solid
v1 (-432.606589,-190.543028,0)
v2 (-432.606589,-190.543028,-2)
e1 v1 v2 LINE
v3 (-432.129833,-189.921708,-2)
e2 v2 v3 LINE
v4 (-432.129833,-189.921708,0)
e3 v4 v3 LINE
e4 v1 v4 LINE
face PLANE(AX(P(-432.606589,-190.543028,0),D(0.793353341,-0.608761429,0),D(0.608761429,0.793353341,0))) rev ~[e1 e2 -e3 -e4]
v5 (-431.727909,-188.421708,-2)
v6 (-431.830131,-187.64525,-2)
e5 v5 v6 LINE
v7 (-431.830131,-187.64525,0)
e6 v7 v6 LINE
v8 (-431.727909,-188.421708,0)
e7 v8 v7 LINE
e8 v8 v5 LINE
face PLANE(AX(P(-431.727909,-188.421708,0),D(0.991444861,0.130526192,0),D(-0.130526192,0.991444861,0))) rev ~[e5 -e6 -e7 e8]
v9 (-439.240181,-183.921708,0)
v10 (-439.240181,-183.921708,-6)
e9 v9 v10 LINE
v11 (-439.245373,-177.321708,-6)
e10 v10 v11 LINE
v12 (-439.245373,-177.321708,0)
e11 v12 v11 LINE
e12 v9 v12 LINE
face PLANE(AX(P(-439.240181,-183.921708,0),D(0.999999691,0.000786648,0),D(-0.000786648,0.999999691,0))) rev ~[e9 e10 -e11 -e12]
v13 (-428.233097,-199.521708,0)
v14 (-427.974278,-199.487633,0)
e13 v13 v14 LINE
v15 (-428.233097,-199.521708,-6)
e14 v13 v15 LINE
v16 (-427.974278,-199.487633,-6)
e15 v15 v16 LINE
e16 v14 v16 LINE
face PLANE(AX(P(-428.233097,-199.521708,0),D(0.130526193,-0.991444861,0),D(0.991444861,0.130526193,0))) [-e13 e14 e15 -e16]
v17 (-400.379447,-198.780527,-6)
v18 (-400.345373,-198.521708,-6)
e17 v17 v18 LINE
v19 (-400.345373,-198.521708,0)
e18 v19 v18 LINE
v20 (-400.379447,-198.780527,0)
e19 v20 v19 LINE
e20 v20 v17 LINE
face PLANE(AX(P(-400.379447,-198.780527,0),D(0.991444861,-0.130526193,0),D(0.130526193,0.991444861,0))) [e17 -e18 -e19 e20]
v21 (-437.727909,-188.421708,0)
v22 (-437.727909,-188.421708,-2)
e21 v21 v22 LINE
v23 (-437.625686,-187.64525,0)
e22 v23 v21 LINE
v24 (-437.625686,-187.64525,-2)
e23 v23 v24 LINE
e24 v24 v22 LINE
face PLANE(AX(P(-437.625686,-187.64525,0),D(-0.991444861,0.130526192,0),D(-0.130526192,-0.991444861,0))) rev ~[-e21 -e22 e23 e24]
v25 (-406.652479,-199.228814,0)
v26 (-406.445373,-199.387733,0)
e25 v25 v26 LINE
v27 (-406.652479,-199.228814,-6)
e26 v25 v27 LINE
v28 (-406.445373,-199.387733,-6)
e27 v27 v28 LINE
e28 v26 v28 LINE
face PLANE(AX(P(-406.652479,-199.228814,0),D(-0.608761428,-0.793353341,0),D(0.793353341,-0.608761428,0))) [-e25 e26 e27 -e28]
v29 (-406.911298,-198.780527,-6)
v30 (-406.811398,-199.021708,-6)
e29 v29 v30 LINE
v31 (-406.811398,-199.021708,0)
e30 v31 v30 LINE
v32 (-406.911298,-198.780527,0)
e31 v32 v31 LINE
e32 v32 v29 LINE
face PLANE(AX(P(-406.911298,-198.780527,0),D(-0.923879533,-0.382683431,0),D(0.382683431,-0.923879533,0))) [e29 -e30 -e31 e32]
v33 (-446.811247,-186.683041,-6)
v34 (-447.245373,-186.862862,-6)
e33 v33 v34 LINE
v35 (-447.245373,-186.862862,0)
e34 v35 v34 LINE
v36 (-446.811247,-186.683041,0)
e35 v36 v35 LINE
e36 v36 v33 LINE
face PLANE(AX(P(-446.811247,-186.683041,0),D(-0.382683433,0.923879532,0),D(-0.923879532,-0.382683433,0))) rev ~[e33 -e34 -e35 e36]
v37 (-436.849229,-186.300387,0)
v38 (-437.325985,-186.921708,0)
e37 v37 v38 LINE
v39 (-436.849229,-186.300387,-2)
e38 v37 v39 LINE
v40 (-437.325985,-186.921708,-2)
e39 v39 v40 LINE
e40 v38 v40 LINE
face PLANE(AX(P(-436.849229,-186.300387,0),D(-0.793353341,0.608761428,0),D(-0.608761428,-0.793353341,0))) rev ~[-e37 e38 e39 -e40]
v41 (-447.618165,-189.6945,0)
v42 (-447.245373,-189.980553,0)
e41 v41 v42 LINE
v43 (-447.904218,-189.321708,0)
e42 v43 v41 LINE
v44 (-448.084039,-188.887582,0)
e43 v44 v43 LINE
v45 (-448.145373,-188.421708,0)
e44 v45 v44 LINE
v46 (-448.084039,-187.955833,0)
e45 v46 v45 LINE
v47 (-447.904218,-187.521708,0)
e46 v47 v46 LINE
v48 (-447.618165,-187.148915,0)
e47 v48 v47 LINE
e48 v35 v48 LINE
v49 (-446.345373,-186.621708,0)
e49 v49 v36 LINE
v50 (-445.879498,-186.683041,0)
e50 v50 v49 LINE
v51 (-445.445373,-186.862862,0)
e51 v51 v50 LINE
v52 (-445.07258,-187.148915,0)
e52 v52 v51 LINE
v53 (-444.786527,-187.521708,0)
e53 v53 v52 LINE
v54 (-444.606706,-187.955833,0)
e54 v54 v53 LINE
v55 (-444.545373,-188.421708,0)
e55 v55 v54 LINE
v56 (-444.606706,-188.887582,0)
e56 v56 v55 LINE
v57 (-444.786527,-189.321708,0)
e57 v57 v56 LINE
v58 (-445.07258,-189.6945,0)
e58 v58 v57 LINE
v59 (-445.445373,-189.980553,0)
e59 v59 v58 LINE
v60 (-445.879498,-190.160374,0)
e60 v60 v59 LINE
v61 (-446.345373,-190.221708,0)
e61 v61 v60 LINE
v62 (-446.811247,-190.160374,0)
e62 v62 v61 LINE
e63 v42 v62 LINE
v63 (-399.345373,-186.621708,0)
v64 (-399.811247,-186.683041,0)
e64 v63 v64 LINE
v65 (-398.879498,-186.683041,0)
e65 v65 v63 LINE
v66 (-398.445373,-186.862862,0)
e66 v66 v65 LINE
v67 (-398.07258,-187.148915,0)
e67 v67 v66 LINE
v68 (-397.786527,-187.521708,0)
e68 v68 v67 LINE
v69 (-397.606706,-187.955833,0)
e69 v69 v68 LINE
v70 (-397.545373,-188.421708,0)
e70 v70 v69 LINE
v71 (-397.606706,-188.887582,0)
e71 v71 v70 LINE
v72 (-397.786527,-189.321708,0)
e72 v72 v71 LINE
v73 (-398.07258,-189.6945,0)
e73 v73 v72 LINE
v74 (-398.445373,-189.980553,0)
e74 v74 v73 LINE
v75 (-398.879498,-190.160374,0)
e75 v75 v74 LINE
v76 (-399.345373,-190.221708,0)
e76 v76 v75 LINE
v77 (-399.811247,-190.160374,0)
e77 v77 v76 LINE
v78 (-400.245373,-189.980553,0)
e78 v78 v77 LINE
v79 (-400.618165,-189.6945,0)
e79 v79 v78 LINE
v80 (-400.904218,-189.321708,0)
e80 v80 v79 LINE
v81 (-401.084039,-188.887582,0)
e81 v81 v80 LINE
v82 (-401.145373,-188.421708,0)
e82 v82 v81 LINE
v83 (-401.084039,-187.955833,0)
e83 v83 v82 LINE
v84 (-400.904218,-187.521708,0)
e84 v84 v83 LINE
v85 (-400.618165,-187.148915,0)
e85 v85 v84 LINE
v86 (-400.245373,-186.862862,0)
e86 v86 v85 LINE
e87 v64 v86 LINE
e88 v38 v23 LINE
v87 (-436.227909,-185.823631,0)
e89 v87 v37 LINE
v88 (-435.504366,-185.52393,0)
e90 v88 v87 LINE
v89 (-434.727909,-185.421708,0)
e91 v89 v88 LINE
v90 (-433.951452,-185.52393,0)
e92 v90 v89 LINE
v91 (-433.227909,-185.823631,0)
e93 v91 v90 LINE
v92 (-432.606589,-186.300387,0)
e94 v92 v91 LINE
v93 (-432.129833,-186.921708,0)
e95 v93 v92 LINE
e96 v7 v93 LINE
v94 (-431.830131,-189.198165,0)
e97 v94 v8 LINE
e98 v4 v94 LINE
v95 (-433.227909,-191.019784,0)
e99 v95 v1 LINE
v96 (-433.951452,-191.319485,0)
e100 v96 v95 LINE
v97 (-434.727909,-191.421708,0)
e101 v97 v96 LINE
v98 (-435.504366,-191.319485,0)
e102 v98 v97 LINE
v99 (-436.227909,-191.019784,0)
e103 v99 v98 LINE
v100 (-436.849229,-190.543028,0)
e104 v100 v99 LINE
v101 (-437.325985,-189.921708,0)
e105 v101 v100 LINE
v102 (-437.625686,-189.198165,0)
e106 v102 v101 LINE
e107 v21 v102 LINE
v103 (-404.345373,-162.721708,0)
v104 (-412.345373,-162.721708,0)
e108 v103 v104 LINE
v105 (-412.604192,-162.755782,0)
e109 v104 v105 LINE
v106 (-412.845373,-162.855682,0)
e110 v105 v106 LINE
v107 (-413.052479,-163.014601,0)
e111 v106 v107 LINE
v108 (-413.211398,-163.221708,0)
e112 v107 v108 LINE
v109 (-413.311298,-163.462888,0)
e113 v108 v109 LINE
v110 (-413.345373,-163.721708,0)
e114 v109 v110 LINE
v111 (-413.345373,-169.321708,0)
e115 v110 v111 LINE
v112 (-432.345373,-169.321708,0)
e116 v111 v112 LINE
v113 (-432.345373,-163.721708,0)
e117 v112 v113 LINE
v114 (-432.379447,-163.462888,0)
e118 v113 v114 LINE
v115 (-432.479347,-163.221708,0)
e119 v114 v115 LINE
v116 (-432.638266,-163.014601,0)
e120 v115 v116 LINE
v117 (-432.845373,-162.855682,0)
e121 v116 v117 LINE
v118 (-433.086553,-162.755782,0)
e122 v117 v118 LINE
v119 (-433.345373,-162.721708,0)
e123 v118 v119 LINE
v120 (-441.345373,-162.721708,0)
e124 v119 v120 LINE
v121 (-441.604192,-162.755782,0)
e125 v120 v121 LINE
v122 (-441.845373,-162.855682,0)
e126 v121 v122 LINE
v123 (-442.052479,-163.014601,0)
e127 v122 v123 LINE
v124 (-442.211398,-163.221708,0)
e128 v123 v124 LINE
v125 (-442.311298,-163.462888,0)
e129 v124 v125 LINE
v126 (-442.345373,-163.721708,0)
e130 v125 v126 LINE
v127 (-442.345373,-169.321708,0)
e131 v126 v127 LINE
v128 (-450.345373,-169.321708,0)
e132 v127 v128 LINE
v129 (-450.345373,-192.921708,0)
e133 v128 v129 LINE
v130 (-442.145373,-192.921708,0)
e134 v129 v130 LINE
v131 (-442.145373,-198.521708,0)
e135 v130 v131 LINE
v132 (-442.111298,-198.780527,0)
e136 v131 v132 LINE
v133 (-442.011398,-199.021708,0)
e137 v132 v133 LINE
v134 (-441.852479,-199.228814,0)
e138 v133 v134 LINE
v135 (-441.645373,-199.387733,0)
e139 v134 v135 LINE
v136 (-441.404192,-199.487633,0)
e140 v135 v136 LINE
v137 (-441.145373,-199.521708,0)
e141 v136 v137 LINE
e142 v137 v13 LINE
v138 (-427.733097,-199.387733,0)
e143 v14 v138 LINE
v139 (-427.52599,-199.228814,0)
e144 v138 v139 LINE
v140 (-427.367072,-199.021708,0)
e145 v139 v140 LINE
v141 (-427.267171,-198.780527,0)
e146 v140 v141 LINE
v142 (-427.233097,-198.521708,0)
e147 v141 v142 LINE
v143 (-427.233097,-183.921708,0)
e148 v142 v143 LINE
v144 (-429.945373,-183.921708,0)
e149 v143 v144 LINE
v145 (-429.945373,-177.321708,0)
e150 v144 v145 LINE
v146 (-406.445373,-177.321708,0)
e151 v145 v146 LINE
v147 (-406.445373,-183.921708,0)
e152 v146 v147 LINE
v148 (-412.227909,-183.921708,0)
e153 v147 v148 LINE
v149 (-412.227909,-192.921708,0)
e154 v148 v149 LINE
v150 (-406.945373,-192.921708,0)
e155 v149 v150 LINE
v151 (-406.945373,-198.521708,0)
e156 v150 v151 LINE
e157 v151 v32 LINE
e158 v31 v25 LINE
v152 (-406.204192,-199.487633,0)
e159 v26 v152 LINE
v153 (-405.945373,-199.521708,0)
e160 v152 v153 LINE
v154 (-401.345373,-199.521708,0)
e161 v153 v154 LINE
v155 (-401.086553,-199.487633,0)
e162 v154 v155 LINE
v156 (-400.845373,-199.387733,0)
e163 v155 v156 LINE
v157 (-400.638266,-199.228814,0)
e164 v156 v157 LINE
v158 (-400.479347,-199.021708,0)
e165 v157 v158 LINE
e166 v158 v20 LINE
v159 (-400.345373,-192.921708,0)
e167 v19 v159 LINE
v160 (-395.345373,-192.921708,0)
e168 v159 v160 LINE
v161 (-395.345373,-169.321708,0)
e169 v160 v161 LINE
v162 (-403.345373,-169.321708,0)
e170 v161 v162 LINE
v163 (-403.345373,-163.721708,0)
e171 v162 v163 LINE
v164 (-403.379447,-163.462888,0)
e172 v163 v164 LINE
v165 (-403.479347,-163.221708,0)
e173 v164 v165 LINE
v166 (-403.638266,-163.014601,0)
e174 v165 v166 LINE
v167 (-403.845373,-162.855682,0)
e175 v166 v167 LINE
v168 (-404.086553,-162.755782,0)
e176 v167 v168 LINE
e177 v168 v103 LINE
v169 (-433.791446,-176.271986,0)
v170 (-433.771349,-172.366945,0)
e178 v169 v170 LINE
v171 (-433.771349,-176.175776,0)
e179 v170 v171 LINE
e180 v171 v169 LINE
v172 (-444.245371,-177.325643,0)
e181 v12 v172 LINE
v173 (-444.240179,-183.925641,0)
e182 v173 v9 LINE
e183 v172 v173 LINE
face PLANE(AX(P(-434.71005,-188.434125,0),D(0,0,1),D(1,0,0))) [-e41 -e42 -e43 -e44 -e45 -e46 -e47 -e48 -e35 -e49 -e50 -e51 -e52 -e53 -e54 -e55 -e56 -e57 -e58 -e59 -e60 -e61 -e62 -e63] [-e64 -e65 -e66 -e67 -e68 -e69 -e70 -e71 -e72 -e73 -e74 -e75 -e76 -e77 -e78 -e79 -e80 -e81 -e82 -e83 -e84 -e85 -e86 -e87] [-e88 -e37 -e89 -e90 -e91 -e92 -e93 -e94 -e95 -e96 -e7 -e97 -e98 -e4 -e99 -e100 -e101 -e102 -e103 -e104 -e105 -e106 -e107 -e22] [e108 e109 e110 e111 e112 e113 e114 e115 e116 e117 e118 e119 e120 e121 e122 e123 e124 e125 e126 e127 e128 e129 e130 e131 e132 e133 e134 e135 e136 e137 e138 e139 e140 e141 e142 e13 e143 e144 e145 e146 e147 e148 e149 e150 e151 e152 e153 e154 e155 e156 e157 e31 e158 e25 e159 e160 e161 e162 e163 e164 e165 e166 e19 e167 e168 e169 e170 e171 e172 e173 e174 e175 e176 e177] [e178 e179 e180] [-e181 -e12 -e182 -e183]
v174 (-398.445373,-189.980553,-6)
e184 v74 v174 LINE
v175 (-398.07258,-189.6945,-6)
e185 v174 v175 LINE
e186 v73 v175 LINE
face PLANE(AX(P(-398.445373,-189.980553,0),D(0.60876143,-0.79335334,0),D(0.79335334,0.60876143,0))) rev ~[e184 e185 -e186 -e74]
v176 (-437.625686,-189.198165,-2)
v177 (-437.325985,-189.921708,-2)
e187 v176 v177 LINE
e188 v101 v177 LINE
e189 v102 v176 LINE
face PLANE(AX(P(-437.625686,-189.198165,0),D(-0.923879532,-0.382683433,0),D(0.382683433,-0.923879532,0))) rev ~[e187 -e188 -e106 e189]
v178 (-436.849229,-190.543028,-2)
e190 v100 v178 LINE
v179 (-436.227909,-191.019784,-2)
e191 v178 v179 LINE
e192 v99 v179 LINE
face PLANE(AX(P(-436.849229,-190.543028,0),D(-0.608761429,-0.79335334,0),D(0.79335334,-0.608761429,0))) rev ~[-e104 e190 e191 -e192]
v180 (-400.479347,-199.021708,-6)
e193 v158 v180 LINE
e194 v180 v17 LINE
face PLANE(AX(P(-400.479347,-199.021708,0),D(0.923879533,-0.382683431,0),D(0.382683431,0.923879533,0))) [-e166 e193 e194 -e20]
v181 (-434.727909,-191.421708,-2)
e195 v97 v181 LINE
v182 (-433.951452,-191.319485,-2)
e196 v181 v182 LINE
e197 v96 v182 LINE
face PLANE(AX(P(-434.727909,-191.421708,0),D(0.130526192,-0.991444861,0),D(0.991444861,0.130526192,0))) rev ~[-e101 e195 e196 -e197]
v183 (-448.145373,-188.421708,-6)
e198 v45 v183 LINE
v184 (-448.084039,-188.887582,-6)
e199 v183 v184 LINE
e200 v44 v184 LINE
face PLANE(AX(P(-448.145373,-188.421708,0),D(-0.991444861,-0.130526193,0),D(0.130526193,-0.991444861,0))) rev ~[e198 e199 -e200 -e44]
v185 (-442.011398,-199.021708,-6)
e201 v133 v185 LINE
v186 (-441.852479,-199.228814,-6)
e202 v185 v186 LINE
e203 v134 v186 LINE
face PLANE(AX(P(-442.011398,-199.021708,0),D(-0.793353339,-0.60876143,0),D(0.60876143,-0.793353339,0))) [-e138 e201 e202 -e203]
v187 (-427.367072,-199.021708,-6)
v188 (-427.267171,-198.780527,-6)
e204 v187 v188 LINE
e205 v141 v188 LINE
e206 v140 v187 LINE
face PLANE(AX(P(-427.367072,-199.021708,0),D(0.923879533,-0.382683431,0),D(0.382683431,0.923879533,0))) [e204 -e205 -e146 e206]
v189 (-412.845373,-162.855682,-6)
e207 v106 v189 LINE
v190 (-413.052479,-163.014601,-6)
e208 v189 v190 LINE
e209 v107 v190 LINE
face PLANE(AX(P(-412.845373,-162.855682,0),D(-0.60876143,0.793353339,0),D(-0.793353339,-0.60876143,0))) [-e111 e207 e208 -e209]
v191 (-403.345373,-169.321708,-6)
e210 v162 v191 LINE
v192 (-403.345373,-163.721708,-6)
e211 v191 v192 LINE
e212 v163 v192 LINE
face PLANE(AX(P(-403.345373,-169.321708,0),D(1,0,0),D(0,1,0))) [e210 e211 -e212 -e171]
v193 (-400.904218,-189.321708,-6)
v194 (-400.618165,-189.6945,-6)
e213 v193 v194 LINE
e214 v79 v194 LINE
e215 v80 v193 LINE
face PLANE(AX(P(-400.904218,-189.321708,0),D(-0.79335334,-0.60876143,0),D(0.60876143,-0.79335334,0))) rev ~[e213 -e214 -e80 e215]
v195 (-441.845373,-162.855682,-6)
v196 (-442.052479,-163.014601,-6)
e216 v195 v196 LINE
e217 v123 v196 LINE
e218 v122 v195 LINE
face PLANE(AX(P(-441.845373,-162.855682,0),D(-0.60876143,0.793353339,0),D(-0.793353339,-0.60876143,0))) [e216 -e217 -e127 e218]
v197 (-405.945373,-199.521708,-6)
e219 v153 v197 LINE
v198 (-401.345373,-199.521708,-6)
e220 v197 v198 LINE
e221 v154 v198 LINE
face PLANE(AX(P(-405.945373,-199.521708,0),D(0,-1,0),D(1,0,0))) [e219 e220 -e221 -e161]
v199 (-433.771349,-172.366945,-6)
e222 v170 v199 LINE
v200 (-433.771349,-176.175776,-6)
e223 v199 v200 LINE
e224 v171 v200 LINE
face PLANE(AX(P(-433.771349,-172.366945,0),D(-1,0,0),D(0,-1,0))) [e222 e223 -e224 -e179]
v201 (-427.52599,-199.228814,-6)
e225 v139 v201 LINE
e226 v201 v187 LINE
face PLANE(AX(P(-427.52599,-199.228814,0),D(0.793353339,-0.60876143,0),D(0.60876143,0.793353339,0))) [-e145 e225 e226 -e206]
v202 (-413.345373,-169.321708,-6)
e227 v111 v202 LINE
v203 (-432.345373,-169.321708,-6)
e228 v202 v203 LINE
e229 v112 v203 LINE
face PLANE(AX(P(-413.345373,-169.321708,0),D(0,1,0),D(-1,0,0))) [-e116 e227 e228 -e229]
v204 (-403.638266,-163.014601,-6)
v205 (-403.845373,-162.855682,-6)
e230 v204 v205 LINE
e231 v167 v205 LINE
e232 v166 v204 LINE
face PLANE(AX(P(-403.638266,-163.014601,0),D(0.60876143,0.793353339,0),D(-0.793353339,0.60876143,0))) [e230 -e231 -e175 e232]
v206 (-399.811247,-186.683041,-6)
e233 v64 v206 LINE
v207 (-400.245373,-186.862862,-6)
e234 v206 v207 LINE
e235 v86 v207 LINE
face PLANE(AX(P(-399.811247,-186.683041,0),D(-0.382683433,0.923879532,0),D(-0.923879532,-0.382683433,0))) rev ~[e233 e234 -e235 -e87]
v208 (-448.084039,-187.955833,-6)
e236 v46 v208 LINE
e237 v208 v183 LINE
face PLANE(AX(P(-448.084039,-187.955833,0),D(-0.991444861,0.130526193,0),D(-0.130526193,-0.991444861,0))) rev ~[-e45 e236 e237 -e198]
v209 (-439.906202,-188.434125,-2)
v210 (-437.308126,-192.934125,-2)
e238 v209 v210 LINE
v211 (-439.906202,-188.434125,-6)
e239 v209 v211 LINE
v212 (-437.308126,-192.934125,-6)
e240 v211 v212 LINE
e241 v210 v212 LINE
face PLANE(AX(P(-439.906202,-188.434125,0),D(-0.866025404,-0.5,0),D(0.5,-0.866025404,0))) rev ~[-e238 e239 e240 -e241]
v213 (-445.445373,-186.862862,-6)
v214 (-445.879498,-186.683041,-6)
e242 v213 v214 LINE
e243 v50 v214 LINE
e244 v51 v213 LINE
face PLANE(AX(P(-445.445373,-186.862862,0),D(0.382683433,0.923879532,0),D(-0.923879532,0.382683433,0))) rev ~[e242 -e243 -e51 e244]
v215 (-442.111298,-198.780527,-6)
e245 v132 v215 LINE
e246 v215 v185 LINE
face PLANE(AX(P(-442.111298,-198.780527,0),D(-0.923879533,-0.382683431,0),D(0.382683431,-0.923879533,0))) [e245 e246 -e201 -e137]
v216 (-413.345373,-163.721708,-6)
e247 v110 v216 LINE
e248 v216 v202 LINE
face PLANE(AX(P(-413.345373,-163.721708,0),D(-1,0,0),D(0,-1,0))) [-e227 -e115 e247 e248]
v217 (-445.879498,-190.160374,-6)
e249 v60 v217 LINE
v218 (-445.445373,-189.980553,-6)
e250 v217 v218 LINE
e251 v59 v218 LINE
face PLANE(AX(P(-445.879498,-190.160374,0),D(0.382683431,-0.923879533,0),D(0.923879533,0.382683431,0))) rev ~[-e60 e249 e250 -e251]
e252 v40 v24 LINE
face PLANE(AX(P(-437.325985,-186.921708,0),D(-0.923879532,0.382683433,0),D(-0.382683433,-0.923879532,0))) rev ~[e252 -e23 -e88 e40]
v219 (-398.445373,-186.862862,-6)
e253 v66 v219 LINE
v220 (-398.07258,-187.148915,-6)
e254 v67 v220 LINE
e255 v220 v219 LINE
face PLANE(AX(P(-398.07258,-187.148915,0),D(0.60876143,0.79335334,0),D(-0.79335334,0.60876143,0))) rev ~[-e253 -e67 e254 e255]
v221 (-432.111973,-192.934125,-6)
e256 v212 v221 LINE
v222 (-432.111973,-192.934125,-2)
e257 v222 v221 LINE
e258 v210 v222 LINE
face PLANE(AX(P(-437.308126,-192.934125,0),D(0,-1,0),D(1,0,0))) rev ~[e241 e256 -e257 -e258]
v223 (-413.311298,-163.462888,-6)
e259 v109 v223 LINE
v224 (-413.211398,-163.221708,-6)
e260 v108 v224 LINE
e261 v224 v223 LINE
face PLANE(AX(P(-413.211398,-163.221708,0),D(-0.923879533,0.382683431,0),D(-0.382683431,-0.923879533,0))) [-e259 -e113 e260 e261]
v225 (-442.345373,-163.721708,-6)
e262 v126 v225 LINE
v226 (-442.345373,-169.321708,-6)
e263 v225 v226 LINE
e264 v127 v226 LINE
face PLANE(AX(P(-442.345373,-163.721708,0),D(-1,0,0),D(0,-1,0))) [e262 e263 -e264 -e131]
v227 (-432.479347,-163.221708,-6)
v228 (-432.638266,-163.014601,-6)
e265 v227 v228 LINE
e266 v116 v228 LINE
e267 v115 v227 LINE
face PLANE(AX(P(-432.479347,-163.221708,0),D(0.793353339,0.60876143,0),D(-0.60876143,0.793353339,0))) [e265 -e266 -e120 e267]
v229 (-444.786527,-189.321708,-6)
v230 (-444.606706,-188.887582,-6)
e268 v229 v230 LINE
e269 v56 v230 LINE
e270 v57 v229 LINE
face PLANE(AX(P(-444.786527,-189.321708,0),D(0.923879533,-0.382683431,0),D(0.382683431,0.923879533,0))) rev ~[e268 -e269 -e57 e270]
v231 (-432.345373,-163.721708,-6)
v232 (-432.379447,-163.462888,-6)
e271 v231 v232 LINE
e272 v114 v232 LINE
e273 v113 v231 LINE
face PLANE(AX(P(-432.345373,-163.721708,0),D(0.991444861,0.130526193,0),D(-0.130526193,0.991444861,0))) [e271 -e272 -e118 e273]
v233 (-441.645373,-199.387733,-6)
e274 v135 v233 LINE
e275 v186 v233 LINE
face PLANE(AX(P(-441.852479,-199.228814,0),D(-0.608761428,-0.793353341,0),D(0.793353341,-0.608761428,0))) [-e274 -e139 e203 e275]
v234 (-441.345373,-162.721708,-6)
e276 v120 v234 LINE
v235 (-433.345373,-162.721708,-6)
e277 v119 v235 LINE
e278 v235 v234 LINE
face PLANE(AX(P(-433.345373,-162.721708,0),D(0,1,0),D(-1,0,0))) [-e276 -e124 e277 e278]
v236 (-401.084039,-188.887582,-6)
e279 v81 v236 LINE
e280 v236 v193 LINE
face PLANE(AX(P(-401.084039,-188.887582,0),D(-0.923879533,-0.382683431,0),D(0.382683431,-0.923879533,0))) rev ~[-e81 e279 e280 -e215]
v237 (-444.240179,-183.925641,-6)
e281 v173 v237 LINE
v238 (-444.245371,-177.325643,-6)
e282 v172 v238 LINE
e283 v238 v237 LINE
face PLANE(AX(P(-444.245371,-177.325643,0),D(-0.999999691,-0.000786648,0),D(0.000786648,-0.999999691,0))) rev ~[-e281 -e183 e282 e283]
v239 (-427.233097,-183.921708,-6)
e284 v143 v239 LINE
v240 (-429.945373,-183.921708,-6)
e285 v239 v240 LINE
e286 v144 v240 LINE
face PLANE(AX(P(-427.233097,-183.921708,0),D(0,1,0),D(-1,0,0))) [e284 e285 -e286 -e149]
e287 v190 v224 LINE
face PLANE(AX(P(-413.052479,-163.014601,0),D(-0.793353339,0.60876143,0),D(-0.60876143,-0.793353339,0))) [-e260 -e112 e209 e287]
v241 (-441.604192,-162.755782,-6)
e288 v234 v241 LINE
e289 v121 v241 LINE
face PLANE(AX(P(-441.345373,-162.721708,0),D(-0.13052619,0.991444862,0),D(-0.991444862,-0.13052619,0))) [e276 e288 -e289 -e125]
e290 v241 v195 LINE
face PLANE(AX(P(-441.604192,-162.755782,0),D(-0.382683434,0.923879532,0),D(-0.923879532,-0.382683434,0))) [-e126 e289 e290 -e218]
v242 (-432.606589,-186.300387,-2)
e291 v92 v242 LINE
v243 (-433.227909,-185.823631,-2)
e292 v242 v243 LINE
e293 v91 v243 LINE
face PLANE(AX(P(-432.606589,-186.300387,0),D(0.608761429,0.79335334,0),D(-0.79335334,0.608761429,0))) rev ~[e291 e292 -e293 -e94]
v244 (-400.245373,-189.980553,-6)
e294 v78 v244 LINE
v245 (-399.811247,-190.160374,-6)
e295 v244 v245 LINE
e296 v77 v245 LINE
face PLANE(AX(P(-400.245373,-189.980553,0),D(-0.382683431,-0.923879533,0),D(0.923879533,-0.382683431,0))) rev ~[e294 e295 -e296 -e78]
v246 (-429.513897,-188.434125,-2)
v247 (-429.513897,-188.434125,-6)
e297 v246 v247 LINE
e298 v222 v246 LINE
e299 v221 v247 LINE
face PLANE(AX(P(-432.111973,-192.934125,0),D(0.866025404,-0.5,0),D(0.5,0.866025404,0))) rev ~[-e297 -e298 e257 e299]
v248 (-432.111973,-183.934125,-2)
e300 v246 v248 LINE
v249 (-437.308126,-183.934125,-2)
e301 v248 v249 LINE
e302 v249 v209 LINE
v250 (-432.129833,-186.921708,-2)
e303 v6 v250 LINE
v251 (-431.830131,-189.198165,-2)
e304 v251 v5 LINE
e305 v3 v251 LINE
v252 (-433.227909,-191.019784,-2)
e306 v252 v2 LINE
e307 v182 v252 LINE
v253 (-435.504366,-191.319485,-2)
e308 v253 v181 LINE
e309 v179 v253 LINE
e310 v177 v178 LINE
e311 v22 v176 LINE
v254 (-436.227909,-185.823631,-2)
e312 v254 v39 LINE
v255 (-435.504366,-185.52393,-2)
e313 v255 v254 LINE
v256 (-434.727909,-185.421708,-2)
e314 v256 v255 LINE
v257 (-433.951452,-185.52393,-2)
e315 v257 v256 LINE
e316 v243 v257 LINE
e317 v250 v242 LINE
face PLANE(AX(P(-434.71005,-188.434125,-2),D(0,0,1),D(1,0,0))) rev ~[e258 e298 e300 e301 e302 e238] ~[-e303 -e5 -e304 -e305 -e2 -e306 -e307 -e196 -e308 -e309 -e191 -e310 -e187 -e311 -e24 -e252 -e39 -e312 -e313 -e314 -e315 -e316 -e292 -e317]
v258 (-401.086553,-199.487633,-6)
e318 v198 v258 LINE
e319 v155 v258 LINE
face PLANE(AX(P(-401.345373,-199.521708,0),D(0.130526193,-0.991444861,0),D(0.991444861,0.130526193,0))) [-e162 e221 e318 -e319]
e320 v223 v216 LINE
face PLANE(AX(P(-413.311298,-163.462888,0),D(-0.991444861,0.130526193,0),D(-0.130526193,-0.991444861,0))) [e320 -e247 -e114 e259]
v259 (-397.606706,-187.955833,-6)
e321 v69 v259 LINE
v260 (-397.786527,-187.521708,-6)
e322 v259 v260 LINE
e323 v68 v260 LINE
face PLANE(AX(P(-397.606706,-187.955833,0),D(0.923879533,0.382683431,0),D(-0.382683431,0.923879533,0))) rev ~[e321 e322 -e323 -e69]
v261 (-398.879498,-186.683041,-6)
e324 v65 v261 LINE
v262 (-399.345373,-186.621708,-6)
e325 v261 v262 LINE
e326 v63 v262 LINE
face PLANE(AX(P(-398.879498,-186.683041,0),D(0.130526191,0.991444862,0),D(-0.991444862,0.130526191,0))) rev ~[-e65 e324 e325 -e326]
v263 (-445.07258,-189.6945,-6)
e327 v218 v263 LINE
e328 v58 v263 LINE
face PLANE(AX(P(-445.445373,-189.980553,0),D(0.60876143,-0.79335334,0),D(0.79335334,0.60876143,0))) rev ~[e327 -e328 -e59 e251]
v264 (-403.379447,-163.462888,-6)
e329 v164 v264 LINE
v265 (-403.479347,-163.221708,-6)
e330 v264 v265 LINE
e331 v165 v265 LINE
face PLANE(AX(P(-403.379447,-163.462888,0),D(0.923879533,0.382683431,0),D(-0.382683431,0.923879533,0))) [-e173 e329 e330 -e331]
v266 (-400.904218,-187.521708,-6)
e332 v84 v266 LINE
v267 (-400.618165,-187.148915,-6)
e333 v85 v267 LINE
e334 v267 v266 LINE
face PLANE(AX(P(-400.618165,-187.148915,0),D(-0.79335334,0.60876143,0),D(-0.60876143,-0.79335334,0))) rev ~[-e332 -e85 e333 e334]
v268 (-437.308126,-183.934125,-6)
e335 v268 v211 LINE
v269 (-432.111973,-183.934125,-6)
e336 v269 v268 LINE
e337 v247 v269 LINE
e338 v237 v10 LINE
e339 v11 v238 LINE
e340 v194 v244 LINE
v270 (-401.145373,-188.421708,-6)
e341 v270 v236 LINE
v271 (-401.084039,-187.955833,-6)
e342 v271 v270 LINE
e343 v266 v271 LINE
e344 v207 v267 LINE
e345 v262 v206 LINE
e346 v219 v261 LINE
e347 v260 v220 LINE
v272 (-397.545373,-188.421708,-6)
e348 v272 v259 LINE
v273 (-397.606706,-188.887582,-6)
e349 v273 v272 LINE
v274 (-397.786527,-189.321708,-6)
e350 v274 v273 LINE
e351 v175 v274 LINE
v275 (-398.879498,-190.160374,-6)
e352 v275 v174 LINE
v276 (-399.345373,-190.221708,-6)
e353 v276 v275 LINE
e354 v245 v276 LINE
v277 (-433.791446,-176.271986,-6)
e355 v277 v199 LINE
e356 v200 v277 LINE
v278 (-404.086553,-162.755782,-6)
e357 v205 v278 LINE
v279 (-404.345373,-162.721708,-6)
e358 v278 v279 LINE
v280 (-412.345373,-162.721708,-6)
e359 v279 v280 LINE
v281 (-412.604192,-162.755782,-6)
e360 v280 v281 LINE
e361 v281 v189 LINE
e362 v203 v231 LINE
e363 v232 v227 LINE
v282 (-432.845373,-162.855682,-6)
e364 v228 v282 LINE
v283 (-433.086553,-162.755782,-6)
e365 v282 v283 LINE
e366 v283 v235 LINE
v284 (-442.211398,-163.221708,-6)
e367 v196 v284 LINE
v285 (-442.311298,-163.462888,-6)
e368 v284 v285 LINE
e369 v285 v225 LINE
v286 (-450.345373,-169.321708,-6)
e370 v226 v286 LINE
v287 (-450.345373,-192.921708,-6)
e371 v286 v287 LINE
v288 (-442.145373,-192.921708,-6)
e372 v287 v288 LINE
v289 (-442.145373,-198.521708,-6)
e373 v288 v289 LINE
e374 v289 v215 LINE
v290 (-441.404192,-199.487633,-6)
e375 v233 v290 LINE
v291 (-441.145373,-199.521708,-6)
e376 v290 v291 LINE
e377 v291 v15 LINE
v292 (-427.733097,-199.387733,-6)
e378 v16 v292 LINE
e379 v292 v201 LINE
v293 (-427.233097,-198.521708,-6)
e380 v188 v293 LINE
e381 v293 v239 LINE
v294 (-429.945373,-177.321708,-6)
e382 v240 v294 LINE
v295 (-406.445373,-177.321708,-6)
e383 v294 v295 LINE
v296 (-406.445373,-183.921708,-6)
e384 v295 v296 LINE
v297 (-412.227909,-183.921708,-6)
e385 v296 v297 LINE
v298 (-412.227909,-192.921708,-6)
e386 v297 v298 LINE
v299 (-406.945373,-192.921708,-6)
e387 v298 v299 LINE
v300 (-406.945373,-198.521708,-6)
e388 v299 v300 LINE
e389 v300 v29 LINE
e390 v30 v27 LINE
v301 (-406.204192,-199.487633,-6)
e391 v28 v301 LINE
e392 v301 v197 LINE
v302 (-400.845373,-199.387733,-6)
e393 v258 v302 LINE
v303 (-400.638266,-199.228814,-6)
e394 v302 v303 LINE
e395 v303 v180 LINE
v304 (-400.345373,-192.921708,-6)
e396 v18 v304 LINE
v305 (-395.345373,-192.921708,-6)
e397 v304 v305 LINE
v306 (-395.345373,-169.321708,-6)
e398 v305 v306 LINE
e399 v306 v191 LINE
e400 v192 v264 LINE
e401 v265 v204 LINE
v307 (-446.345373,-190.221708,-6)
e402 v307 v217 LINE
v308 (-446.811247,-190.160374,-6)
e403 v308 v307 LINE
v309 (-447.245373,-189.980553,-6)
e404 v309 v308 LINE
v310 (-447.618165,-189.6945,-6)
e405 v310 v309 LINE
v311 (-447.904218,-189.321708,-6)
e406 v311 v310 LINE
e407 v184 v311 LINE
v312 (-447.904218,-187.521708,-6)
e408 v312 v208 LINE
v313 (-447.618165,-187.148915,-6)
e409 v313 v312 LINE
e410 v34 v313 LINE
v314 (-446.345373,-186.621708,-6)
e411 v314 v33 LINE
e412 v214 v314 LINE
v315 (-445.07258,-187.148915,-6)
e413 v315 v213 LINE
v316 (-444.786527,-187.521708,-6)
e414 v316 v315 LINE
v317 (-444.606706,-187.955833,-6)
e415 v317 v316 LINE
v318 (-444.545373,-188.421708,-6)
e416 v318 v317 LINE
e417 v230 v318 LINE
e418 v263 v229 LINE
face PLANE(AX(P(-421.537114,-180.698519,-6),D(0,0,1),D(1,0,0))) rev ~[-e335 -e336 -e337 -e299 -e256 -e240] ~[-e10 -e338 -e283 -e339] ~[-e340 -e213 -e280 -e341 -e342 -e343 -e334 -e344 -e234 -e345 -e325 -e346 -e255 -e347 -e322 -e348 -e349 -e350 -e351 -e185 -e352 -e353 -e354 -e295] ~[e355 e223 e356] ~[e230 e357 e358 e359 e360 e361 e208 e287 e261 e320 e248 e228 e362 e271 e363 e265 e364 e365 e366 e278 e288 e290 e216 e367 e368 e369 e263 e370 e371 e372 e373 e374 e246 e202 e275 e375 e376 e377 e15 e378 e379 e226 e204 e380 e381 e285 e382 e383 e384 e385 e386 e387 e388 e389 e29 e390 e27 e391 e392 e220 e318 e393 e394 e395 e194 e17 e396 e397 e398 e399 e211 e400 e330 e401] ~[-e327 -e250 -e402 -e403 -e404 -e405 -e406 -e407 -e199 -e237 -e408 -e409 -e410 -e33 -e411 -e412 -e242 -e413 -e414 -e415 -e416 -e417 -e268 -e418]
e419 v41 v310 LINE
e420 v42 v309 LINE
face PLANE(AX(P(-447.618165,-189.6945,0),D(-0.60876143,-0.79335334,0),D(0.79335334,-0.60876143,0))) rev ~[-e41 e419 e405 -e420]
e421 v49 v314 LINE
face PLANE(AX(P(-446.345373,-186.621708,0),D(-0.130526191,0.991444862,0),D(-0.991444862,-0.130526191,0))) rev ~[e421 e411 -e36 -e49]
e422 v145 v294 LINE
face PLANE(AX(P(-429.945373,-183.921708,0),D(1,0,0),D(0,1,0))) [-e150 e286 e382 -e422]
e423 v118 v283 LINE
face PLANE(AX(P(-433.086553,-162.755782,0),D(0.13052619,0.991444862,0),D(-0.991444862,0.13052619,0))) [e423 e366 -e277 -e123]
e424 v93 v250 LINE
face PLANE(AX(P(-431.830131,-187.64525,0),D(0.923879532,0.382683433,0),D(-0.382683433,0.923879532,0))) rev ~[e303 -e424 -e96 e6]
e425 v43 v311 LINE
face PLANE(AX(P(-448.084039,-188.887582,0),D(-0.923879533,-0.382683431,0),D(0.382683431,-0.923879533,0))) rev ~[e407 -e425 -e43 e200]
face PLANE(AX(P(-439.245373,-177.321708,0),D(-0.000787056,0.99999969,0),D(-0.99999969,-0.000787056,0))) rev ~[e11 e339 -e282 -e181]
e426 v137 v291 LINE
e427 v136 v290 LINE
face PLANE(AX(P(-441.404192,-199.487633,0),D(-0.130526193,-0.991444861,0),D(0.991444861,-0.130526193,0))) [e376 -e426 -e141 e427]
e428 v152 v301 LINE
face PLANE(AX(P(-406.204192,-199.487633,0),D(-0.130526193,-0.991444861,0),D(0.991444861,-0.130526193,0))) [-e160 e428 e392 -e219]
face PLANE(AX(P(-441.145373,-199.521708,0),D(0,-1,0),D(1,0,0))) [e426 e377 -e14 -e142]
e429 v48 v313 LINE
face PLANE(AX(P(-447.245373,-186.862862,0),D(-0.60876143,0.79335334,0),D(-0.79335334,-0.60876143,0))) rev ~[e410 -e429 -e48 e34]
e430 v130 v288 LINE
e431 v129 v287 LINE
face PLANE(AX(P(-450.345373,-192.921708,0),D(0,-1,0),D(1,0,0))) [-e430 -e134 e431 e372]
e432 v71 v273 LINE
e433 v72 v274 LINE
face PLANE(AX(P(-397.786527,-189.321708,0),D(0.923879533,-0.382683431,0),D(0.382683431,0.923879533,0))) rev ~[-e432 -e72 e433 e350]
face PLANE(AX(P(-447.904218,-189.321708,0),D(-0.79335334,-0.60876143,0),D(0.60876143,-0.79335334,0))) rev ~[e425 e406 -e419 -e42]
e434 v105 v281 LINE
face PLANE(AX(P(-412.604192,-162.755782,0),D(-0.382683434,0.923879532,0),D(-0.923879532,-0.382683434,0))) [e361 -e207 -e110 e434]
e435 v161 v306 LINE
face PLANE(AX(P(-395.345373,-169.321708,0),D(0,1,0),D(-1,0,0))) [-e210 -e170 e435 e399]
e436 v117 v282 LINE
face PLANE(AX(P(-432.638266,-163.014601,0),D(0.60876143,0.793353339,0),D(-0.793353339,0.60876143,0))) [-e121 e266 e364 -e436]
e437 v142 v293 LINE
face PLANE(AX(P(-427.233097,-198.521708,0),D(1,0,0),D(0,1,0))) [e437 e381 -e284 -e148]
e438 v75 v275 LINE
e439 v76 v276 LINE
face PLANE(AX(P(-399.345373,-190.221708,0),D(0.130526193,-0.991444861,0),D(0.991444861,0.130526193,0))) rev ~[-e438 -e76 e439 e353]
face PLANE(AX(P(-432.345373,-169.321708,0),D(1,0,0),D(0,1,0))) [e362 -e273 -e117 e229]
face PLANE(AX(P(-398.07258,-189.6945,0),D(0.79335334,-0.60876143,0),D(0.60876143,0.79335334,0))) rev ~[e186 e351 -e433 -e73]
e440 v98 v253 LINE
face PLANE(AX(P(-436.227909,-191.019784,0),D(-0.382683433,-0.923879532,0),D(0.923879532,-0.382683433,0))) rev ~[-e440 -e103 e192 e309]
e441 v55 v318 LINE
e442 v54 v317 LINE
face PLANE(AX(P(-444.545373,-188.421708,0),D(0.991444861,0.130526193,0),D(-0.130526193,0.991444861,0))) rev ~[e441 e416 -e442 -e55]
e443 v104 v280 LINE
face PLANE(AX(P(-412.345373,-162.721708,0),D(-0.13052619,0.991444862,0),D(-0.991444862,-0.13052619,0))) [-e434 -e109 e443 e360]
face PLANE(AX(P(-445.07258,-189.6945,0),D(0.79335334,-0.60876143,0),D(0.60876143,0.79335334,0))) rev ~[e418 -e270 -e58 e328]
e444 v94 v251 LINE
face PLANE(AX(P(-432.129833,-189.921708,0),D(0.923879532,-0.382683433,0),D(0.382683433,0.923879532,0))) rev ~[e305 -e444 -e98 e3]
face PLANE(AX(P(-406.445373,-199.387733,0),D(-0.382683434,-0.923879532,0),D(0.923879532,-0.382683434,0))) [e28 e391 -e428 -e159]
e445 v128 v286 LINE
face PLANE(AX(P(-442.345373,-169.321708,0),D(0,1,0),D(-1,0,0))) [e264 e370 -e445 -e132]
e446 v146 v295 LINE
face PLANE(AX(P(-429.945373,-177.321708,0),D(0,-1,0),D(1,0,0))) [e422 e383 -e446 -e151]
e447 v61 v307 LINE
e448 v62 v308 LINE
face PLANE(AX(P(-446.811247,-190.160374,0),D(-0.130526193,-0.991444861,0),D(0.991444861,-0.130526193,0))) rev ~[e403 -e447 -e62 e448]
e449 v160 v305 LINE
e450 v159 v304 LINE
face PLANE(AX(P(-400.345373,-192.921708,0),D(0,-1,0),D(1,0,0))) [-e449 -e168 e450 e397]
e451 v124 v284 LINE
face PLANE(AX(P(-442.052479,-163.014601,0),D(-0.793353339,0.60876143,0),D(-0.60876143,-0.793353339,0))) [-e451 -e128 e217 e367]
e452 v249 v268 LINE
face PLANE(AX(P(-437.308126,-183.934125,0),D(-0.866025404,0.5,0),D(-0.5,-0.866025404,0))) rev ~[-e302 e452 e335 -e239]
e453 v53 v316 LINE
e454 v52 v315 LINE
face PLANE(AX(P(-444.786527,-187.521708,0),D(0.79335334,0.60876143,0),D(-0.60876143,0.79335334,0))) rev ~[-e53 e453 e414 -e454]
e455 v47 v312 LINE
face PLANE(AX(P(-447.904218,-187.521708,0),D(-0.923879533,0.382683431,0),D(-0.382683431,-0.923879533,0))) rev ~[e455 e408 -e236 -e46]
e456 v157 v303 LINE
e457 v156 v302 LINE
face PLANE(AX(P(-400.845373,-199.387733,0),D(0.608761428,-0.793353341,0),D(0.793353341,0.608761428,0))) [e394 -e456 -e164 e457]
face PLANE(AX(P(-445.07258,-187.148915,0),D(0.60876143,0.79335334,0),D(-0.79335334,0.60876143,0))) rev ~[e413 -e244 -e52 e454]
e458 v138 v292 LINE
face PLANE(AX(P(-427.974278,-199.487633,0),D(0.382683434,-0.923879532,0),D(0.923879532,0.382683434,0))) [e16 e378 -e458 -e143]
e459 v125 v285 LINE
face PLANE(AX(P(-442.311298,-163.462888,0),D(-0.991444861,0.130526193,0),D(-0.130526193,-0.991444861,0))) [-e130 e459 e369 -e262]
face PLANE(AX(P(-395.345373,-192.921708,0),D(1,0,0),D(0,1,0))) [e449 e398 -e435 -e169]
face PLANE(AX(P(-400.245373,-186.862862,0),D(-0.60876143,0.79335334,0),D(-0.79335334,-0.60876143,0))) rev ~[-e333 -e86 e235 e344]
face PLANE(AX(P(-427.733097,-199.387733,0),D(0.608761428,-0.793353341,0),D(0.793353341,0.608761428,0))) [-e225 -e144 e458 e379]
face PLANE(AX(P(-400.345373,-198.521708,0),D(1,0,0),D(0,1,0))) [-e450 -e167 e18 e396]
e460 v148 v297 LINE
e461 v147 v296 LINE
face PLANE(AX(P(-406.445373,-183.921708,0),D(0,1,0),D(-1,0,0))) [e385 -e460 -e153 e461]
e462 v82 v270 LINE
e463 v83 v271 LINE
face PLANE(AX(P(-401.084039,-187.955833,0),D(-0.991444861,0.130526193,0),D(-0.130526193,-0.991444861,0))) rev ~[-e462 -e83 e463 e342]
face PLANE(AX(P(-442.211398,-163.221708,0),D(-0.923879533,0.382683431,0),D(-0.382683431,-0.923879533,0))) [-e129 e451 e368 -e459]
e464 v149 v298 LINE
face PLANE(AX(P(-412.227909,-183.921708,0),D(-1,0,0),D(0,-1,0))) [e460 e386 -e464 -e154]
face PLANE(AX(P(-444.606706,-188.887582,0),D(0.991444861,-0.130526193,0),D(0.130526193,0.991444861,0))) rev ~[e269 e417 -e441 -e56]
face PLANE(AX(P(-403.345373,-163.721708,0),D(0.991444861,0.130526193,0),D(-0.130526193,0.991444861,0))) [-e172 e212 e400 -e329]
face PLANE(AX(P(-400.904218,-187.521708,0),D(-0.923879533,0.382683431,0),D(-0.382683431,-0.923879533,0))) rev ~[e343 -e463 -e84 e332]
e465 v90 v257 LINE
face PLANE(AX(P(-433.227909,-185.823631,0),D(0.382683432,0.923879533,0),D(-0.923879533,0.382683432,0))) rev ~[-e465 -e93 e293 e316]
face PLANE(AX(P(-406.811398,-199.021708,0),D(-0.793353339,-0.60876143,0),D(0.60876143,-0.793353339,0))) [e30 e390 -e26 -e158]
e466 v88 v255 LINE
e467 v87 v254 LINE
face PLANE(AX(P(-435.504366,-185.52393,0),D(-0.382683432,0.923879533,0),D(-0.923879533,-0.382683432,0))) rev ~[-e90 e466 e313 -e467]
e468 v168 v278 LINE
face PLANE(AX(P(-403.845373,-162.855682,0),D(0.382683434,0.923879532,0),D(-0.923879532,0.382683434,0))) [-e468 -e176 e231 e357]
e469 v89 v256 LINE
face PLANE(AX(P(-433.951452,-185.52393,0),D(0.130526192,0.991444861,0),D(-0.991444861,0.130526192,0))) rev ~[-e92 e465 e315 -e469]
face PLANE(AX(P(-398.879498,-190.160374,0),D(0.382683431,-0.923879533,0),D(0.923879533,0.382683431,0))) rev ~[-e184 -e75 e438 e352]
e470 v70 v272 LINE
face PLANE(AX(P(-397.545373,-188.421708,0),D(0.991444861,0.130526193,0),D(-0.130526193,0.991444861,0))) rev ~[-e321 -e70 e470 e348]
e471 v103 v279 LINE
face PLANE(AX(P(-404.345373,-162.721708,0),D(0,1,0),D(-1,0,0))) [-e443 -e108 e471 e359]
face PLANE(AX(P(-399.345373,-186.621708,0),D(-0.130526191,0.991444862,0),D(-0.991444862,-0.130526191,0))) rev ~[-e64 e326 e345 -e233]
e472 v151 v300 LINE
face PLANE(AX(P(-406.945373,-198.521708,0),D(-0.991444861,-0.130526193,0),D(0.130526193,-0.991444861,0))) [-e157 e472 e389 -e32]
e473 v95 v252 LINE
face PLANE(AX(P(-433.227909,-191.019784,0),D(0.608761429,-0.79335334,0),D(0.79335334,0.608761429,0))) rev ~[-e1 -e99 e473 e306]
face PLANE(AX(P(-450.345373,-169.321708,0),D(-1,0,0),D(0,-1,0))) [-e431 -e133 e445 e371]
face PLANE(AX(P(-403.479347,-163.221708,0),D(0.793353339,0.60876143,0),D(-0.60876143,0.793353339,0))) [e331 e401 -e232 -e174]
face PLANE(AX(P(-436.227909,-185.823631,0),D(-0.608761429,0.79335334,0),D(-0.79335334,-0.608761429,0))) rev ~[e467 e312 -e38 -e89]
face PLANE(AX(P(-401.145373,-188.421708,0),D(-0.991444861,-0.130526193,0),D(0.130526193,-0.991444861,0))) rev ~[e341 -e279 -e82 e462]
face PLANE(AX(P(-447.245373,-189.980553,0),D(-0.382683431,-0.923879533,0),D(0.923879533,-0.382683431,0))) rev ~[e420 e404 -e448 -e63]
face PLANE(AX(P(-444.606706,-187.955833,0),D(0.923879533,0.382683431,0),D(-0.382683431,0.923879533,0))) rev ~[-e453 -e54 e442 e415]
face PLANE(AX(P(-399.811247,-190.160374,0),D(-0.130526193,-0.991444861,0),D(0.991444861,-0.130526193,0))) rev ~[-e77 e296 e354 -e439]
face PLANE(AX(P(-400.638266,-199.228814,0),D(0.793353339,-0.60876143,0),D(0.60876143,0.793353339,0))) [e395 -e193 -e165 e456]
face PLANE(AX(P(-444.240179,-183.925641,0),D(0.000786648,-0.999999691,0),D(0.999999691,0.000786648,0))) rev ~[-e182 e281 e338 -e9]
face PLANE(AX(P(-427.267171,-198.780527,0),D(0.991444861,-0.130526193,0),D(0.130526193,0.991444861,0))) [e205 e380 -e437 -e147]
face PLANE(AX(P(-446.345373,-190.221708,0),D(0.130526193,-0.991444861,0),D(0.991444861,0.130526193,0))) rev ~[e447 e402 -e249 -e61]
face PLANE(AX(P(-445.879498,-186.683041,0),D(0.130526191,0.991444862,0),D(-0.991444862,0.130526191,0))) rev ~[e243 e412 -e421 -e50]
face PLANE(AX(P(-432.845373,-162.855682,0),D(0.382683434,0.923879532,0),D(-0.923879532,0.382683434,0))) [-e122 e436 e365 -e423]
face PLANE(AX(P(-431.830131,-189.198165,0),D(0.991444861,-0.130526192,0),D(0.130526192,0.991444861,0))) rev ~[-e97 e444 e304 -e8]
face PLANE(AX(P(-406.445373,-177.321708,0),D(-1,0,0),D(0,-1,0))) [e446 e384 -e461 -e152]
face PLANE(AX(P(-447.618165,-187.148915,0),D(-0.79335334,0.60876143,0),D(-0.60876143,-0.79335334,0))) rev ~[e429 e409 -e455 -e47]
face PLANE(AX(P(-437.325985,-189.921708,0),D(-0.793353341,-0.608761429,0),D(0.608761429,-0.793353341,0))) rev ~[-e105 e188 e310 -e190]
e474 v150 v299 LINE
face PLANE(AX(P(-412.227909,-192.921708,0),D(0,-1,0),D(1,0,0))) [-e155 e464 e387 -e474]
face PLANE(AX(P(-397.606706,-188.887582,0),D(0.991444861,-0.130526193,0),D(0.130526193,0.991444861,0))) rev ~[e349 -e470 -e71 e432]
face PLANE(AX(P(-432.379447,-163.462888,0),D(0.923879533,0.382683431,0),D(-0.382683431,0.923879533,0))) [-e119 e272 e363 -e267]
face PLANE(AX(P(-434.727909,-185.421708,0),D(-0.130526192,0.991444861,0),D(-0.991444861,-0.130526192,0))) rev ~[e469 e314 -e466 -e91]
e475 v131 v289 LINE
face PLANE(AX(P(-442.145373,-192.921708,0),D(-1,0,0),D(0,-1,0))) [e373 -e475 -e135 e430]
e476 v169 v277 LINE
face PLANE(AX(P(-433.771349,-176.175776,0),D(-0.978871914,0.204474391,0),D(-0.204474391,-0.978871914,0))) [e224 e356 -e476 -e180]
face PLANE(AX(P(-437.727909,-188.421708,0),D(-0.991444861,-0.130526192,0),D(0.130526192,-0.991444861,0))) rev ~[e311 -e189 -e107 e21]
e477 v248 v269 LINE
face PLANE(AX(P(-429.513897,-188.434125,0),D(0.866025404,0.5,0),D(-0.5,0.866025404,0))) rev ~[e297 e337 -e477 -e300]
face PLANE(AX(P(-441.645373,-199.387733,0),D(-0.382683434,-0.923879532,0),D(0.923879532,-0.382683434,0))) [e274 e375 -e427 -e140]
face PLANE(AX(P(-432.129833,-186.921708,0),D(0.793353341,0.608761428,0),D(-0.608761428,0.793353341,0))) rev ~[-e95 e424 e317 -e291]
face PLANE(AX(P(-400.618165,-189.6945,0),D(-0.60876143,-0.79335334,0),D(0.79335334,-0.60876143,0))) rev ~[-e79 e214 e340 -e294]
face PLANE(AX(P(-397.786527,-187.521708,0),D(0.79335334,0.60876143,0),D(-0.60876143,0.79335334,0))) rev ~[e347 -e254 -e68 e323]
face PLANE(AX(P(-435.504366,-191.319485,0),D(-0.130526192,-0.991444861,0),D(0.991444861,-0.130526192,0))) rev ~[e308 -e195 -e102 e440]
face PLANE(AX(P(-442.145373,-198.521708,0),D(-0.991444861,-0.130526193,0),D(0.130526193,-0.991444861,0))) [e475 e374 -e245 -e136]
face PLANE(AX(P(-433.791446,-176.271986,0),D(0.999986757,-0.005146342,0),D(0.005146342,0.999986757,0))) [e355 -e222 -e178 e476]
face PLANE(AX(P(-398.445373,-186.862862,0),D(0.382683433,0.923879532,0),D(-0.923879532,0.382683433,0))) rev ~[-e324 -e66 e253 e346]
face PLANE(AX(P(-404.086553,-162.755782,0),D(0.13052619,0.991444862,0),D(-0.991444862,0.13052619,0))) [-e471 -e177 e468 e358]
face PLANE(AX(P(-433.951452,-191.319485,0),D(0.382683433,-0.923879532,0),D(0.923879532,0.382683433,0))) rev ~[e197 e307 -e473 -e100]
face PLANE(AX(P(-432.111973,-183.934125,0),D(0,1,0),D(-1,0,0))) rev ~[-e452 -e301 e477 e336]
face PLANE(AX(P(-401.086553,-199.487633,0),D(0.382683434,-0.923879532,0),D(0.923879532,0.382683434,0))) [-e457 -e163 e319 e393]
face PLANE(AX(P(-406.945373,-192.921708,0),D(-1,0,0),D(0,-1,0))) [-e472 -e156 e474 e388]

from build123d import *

# Parameters (mm, degrees)
BOSS_EXTRUDE1_DEPTH = 6
BOSS_EXTRUDE2_DEPTH = 2


with BuildPart() as part:
    # Sketch1 → Boss-Extrude1 (new body)
    with BuildSketch(Plane.XY):
        Polygon((-427.733097117, -199.387732928), (-427.525990336, -199.228814306), (-427.367071713, -199.021707525), (-427.267171291, -198.78052657), (-427.233097117, -198.521707525), (-427.233097117, -183.921707525), (-429.945372541, -183.921707525), (-429.945372541, -177.321707525), (-406.445372541, -177.321707525), (-406.445372541, -183.921707525), (-412.227908952, -183.921707525), (-412.227908952, -192.921707525), (-406.945372541, -192.921707525), (-406.945372541, -198.521707525), (-406.911298367, -198.78052657), (-406.811397945, -199.021707525), (-406.652479322, -199.228814306), (-406.445372541, -199.387732928), (-406.204191586, -199.487633351), (-405.945372541, -199.521707525), (-401.345372541, -199.521707525), (-401.086553496, -199.487633351), (-400.845372541, -199.387732928), (-400.63826576, -199.228814306), (-400.479347137, -199.021707525), (-400.379446715, -198.78052657), (-400.345372541, -198.521707525), (-400.345372541, -192.921707525), (-395.345372541, -192.921707525), (-395.345372541, -169.321707525), (-403.345372541, -169.321707525), (-403.345372541, -163.721707525), (-403.379446715, -163.46288848), (-403.479347137, -163.221707525), (-403.63826576, -163.014600744), (-403.845372541, -162.855682121), (-404.086553496, -162.755781698), (-404.345372541, -162.721707525), (-412.345372541, -162.721707525), (-412.604191586, -162.755781698), (-412.845372541, -162.855682121), (-413.052479322, -163.014600744), (-413.211397945, -163.221707525), (-413.311298367, -163.46288848), (-413.345372541, -163.721707525), (-413.345372541, -169.321707525), (-432.345372541, -169.321707525), (-432.345372541, -163.721707525), (-432.379446715, -163.46288848), (-432.479347137, -163.221707525), (-432.63826576, -163.014600744), (-432.845372541, -162.855682121), (-433.086553496, -162.755781698), (-433.345372541, -162.721707525), (-441.345372541, -162.721707525), (-441.604191586, -162.755781698), (-441.845372541, -162.855682121), (-442.052479322, -163.014600744), (-442.211397945, -163.221707525), (-442.311298367, -163.46288848), (-442.345372541, -163.721707525), (-442.345372541, -169.321707525), (-450.345372541, -169.321707525), (-450.345372541, -192.921707525), (-442.145372541, -192.921707525), (-442.145372541, -198.521707525), (-442.111298367, -198.78052657), (-442.011397945, -199.021707525), (-441.852479322, -199.228814306), (-441.645372541, -199.387732928), (-441.404191586, -199.487633351), (-441.145372541, -199.521707525), (-428.233097117, -199.521707525), (-427.974278072, -199.487633351), align=None)
        Polygon((-447.618164747, -187.148915319), (-447.245372541, -186.862861798), (-446.811246822, -186.683041037), (-446.345372541, -186.621707525), (-445.87949826, -186.683041037), (-445.445372541, -186.862861798), (-445.072580335, -187.148915319), (-444.786526814, -187.521707525), (-444.606706054, -187.955833244), (-444.545372541, -188.421707525), (-444.606706054, -188.887581806), (-444.786526814, -189.321707525), (-445.072580335, -189.694499731), (-445.445372541, -189.980553252), (-445.87949826, -190.160374012), (-446.345372541, -190.221707525), (-446.811246822, -190.160374012), (-447.245372541, -189.980553252), (-447.618164747, -189.694499731), (-447.904218268, -189.321707525), (-448.084039028, -188.887581806), (-448.145372541, -188.421707525), (-448.084039028, -187.955833244), (-447.904218268, -187.521707525), align=None, mode=Mode.SUBTRACT)
        Polygon((-432.11197341, -192.934124647), (-437.308125833, -192.934124647), (-439.906202044, -188.434124647), (-437.308125833, -183.934124647), (-432.11197341, -183.934124647), (-429.513897199, -188.434124647), align=None, mode=Mode.SUBTRACT)
        Polygon((-400.904218268, -187.521707525), (-400.618164747, -187.148915319), (-400.245372541, -186.862861798), (-399.811246822, -186.683041037), (-399.345372541, -186.621707525), (-398.87949826, -186.683041037), (-398.445372541, -186.862861798), (-398.072580335, -187.148915319), (-397.786526814, -187.521707525), (-397.606706054, -187.955833244), (-397.545372541, -188.421707525), (-397.606706054, -188.887581806), (-397.786526814, -189.321707525), (-398.072580335, -189.694499731), (-398.445372541, -189.980553252), (-398.87949826, -190.160374012), (-399.345372541, -190.221707525), (-399.811246822, -190.160374012), (-400.245372541, -189.980553252), (-400.618164747, -189.694499731), (-400.904218268, -189.321707525), (-401.084039028, -188.887581806), (-401.145372541, -188.421707525), (-401.084039028, -187.955833244), align=None, mode=Mode.SUBTRACT)
        Polygon((-439.245372541, -177.321707525), (-439.240180663, -183.921707525), (-444.240179116, -183.925640764), (-444.245370992, -177.325642806), align=None, mode=Mode.SUBTRACT)
        Polygon((-433.771349426, -172.366944559), (-433.771349426, -176.175776495), (-433.791446368, -176.271985766), align=None, mode=Mode.SUBTRACT)
    extrude(amount=-BOSS_EXTRUDE1_DEPTH)

    # Sketch1<3> → Boss-Extrude2 (add)
    with BuildSketch(Plane.XY):
        Polygon((-439.906202044, -188.434124647), (-437.308125833, -192.934124647), (-432.11197341, -192.934124647), (-429.513897199, -188.434124647), (-432.11197341, -183.934124647), (-437.308125833, -183.934124647), align=None)
        Polygon((-432.129832741, -189.921707525), (-432.606588608, -190.543027868), (-433.227908952, -191.019783736), (-433.951451817, -191.319485004), (-434.727908952, -191.421707525), (-435.504366087, -191.319485004), (-436.227908952, -191.019783736), (-436.849229296, -190.543027868), (-437.325985163, -189.921707525), (-437.625686431, -189.19816466), (-437.727908952, -188.421707525), (-437.625686431, -187.645250389), (-437.325985163, -186.921707525), (-436.849229296, -186.300387181), (-436.227908952, -185.823631313), (-435.504366087, -185.523930046), (-434.727908952, -185.421707525), (-433.951451817, -185.523930046), (-433.227908952, -185.823631313), (-432.606588608, -186.300387181), (-432.129832741, -186.921707525), (-431.830131473, -187.645250389), (-431.727908952, -188.421707525), (-431.830131473, -189.19816466), align=None, mode=Mode.SUBTRACT)
    extrude(amount=-BOSS_EXTRUDE2_DEPTH)


solid = part.part
